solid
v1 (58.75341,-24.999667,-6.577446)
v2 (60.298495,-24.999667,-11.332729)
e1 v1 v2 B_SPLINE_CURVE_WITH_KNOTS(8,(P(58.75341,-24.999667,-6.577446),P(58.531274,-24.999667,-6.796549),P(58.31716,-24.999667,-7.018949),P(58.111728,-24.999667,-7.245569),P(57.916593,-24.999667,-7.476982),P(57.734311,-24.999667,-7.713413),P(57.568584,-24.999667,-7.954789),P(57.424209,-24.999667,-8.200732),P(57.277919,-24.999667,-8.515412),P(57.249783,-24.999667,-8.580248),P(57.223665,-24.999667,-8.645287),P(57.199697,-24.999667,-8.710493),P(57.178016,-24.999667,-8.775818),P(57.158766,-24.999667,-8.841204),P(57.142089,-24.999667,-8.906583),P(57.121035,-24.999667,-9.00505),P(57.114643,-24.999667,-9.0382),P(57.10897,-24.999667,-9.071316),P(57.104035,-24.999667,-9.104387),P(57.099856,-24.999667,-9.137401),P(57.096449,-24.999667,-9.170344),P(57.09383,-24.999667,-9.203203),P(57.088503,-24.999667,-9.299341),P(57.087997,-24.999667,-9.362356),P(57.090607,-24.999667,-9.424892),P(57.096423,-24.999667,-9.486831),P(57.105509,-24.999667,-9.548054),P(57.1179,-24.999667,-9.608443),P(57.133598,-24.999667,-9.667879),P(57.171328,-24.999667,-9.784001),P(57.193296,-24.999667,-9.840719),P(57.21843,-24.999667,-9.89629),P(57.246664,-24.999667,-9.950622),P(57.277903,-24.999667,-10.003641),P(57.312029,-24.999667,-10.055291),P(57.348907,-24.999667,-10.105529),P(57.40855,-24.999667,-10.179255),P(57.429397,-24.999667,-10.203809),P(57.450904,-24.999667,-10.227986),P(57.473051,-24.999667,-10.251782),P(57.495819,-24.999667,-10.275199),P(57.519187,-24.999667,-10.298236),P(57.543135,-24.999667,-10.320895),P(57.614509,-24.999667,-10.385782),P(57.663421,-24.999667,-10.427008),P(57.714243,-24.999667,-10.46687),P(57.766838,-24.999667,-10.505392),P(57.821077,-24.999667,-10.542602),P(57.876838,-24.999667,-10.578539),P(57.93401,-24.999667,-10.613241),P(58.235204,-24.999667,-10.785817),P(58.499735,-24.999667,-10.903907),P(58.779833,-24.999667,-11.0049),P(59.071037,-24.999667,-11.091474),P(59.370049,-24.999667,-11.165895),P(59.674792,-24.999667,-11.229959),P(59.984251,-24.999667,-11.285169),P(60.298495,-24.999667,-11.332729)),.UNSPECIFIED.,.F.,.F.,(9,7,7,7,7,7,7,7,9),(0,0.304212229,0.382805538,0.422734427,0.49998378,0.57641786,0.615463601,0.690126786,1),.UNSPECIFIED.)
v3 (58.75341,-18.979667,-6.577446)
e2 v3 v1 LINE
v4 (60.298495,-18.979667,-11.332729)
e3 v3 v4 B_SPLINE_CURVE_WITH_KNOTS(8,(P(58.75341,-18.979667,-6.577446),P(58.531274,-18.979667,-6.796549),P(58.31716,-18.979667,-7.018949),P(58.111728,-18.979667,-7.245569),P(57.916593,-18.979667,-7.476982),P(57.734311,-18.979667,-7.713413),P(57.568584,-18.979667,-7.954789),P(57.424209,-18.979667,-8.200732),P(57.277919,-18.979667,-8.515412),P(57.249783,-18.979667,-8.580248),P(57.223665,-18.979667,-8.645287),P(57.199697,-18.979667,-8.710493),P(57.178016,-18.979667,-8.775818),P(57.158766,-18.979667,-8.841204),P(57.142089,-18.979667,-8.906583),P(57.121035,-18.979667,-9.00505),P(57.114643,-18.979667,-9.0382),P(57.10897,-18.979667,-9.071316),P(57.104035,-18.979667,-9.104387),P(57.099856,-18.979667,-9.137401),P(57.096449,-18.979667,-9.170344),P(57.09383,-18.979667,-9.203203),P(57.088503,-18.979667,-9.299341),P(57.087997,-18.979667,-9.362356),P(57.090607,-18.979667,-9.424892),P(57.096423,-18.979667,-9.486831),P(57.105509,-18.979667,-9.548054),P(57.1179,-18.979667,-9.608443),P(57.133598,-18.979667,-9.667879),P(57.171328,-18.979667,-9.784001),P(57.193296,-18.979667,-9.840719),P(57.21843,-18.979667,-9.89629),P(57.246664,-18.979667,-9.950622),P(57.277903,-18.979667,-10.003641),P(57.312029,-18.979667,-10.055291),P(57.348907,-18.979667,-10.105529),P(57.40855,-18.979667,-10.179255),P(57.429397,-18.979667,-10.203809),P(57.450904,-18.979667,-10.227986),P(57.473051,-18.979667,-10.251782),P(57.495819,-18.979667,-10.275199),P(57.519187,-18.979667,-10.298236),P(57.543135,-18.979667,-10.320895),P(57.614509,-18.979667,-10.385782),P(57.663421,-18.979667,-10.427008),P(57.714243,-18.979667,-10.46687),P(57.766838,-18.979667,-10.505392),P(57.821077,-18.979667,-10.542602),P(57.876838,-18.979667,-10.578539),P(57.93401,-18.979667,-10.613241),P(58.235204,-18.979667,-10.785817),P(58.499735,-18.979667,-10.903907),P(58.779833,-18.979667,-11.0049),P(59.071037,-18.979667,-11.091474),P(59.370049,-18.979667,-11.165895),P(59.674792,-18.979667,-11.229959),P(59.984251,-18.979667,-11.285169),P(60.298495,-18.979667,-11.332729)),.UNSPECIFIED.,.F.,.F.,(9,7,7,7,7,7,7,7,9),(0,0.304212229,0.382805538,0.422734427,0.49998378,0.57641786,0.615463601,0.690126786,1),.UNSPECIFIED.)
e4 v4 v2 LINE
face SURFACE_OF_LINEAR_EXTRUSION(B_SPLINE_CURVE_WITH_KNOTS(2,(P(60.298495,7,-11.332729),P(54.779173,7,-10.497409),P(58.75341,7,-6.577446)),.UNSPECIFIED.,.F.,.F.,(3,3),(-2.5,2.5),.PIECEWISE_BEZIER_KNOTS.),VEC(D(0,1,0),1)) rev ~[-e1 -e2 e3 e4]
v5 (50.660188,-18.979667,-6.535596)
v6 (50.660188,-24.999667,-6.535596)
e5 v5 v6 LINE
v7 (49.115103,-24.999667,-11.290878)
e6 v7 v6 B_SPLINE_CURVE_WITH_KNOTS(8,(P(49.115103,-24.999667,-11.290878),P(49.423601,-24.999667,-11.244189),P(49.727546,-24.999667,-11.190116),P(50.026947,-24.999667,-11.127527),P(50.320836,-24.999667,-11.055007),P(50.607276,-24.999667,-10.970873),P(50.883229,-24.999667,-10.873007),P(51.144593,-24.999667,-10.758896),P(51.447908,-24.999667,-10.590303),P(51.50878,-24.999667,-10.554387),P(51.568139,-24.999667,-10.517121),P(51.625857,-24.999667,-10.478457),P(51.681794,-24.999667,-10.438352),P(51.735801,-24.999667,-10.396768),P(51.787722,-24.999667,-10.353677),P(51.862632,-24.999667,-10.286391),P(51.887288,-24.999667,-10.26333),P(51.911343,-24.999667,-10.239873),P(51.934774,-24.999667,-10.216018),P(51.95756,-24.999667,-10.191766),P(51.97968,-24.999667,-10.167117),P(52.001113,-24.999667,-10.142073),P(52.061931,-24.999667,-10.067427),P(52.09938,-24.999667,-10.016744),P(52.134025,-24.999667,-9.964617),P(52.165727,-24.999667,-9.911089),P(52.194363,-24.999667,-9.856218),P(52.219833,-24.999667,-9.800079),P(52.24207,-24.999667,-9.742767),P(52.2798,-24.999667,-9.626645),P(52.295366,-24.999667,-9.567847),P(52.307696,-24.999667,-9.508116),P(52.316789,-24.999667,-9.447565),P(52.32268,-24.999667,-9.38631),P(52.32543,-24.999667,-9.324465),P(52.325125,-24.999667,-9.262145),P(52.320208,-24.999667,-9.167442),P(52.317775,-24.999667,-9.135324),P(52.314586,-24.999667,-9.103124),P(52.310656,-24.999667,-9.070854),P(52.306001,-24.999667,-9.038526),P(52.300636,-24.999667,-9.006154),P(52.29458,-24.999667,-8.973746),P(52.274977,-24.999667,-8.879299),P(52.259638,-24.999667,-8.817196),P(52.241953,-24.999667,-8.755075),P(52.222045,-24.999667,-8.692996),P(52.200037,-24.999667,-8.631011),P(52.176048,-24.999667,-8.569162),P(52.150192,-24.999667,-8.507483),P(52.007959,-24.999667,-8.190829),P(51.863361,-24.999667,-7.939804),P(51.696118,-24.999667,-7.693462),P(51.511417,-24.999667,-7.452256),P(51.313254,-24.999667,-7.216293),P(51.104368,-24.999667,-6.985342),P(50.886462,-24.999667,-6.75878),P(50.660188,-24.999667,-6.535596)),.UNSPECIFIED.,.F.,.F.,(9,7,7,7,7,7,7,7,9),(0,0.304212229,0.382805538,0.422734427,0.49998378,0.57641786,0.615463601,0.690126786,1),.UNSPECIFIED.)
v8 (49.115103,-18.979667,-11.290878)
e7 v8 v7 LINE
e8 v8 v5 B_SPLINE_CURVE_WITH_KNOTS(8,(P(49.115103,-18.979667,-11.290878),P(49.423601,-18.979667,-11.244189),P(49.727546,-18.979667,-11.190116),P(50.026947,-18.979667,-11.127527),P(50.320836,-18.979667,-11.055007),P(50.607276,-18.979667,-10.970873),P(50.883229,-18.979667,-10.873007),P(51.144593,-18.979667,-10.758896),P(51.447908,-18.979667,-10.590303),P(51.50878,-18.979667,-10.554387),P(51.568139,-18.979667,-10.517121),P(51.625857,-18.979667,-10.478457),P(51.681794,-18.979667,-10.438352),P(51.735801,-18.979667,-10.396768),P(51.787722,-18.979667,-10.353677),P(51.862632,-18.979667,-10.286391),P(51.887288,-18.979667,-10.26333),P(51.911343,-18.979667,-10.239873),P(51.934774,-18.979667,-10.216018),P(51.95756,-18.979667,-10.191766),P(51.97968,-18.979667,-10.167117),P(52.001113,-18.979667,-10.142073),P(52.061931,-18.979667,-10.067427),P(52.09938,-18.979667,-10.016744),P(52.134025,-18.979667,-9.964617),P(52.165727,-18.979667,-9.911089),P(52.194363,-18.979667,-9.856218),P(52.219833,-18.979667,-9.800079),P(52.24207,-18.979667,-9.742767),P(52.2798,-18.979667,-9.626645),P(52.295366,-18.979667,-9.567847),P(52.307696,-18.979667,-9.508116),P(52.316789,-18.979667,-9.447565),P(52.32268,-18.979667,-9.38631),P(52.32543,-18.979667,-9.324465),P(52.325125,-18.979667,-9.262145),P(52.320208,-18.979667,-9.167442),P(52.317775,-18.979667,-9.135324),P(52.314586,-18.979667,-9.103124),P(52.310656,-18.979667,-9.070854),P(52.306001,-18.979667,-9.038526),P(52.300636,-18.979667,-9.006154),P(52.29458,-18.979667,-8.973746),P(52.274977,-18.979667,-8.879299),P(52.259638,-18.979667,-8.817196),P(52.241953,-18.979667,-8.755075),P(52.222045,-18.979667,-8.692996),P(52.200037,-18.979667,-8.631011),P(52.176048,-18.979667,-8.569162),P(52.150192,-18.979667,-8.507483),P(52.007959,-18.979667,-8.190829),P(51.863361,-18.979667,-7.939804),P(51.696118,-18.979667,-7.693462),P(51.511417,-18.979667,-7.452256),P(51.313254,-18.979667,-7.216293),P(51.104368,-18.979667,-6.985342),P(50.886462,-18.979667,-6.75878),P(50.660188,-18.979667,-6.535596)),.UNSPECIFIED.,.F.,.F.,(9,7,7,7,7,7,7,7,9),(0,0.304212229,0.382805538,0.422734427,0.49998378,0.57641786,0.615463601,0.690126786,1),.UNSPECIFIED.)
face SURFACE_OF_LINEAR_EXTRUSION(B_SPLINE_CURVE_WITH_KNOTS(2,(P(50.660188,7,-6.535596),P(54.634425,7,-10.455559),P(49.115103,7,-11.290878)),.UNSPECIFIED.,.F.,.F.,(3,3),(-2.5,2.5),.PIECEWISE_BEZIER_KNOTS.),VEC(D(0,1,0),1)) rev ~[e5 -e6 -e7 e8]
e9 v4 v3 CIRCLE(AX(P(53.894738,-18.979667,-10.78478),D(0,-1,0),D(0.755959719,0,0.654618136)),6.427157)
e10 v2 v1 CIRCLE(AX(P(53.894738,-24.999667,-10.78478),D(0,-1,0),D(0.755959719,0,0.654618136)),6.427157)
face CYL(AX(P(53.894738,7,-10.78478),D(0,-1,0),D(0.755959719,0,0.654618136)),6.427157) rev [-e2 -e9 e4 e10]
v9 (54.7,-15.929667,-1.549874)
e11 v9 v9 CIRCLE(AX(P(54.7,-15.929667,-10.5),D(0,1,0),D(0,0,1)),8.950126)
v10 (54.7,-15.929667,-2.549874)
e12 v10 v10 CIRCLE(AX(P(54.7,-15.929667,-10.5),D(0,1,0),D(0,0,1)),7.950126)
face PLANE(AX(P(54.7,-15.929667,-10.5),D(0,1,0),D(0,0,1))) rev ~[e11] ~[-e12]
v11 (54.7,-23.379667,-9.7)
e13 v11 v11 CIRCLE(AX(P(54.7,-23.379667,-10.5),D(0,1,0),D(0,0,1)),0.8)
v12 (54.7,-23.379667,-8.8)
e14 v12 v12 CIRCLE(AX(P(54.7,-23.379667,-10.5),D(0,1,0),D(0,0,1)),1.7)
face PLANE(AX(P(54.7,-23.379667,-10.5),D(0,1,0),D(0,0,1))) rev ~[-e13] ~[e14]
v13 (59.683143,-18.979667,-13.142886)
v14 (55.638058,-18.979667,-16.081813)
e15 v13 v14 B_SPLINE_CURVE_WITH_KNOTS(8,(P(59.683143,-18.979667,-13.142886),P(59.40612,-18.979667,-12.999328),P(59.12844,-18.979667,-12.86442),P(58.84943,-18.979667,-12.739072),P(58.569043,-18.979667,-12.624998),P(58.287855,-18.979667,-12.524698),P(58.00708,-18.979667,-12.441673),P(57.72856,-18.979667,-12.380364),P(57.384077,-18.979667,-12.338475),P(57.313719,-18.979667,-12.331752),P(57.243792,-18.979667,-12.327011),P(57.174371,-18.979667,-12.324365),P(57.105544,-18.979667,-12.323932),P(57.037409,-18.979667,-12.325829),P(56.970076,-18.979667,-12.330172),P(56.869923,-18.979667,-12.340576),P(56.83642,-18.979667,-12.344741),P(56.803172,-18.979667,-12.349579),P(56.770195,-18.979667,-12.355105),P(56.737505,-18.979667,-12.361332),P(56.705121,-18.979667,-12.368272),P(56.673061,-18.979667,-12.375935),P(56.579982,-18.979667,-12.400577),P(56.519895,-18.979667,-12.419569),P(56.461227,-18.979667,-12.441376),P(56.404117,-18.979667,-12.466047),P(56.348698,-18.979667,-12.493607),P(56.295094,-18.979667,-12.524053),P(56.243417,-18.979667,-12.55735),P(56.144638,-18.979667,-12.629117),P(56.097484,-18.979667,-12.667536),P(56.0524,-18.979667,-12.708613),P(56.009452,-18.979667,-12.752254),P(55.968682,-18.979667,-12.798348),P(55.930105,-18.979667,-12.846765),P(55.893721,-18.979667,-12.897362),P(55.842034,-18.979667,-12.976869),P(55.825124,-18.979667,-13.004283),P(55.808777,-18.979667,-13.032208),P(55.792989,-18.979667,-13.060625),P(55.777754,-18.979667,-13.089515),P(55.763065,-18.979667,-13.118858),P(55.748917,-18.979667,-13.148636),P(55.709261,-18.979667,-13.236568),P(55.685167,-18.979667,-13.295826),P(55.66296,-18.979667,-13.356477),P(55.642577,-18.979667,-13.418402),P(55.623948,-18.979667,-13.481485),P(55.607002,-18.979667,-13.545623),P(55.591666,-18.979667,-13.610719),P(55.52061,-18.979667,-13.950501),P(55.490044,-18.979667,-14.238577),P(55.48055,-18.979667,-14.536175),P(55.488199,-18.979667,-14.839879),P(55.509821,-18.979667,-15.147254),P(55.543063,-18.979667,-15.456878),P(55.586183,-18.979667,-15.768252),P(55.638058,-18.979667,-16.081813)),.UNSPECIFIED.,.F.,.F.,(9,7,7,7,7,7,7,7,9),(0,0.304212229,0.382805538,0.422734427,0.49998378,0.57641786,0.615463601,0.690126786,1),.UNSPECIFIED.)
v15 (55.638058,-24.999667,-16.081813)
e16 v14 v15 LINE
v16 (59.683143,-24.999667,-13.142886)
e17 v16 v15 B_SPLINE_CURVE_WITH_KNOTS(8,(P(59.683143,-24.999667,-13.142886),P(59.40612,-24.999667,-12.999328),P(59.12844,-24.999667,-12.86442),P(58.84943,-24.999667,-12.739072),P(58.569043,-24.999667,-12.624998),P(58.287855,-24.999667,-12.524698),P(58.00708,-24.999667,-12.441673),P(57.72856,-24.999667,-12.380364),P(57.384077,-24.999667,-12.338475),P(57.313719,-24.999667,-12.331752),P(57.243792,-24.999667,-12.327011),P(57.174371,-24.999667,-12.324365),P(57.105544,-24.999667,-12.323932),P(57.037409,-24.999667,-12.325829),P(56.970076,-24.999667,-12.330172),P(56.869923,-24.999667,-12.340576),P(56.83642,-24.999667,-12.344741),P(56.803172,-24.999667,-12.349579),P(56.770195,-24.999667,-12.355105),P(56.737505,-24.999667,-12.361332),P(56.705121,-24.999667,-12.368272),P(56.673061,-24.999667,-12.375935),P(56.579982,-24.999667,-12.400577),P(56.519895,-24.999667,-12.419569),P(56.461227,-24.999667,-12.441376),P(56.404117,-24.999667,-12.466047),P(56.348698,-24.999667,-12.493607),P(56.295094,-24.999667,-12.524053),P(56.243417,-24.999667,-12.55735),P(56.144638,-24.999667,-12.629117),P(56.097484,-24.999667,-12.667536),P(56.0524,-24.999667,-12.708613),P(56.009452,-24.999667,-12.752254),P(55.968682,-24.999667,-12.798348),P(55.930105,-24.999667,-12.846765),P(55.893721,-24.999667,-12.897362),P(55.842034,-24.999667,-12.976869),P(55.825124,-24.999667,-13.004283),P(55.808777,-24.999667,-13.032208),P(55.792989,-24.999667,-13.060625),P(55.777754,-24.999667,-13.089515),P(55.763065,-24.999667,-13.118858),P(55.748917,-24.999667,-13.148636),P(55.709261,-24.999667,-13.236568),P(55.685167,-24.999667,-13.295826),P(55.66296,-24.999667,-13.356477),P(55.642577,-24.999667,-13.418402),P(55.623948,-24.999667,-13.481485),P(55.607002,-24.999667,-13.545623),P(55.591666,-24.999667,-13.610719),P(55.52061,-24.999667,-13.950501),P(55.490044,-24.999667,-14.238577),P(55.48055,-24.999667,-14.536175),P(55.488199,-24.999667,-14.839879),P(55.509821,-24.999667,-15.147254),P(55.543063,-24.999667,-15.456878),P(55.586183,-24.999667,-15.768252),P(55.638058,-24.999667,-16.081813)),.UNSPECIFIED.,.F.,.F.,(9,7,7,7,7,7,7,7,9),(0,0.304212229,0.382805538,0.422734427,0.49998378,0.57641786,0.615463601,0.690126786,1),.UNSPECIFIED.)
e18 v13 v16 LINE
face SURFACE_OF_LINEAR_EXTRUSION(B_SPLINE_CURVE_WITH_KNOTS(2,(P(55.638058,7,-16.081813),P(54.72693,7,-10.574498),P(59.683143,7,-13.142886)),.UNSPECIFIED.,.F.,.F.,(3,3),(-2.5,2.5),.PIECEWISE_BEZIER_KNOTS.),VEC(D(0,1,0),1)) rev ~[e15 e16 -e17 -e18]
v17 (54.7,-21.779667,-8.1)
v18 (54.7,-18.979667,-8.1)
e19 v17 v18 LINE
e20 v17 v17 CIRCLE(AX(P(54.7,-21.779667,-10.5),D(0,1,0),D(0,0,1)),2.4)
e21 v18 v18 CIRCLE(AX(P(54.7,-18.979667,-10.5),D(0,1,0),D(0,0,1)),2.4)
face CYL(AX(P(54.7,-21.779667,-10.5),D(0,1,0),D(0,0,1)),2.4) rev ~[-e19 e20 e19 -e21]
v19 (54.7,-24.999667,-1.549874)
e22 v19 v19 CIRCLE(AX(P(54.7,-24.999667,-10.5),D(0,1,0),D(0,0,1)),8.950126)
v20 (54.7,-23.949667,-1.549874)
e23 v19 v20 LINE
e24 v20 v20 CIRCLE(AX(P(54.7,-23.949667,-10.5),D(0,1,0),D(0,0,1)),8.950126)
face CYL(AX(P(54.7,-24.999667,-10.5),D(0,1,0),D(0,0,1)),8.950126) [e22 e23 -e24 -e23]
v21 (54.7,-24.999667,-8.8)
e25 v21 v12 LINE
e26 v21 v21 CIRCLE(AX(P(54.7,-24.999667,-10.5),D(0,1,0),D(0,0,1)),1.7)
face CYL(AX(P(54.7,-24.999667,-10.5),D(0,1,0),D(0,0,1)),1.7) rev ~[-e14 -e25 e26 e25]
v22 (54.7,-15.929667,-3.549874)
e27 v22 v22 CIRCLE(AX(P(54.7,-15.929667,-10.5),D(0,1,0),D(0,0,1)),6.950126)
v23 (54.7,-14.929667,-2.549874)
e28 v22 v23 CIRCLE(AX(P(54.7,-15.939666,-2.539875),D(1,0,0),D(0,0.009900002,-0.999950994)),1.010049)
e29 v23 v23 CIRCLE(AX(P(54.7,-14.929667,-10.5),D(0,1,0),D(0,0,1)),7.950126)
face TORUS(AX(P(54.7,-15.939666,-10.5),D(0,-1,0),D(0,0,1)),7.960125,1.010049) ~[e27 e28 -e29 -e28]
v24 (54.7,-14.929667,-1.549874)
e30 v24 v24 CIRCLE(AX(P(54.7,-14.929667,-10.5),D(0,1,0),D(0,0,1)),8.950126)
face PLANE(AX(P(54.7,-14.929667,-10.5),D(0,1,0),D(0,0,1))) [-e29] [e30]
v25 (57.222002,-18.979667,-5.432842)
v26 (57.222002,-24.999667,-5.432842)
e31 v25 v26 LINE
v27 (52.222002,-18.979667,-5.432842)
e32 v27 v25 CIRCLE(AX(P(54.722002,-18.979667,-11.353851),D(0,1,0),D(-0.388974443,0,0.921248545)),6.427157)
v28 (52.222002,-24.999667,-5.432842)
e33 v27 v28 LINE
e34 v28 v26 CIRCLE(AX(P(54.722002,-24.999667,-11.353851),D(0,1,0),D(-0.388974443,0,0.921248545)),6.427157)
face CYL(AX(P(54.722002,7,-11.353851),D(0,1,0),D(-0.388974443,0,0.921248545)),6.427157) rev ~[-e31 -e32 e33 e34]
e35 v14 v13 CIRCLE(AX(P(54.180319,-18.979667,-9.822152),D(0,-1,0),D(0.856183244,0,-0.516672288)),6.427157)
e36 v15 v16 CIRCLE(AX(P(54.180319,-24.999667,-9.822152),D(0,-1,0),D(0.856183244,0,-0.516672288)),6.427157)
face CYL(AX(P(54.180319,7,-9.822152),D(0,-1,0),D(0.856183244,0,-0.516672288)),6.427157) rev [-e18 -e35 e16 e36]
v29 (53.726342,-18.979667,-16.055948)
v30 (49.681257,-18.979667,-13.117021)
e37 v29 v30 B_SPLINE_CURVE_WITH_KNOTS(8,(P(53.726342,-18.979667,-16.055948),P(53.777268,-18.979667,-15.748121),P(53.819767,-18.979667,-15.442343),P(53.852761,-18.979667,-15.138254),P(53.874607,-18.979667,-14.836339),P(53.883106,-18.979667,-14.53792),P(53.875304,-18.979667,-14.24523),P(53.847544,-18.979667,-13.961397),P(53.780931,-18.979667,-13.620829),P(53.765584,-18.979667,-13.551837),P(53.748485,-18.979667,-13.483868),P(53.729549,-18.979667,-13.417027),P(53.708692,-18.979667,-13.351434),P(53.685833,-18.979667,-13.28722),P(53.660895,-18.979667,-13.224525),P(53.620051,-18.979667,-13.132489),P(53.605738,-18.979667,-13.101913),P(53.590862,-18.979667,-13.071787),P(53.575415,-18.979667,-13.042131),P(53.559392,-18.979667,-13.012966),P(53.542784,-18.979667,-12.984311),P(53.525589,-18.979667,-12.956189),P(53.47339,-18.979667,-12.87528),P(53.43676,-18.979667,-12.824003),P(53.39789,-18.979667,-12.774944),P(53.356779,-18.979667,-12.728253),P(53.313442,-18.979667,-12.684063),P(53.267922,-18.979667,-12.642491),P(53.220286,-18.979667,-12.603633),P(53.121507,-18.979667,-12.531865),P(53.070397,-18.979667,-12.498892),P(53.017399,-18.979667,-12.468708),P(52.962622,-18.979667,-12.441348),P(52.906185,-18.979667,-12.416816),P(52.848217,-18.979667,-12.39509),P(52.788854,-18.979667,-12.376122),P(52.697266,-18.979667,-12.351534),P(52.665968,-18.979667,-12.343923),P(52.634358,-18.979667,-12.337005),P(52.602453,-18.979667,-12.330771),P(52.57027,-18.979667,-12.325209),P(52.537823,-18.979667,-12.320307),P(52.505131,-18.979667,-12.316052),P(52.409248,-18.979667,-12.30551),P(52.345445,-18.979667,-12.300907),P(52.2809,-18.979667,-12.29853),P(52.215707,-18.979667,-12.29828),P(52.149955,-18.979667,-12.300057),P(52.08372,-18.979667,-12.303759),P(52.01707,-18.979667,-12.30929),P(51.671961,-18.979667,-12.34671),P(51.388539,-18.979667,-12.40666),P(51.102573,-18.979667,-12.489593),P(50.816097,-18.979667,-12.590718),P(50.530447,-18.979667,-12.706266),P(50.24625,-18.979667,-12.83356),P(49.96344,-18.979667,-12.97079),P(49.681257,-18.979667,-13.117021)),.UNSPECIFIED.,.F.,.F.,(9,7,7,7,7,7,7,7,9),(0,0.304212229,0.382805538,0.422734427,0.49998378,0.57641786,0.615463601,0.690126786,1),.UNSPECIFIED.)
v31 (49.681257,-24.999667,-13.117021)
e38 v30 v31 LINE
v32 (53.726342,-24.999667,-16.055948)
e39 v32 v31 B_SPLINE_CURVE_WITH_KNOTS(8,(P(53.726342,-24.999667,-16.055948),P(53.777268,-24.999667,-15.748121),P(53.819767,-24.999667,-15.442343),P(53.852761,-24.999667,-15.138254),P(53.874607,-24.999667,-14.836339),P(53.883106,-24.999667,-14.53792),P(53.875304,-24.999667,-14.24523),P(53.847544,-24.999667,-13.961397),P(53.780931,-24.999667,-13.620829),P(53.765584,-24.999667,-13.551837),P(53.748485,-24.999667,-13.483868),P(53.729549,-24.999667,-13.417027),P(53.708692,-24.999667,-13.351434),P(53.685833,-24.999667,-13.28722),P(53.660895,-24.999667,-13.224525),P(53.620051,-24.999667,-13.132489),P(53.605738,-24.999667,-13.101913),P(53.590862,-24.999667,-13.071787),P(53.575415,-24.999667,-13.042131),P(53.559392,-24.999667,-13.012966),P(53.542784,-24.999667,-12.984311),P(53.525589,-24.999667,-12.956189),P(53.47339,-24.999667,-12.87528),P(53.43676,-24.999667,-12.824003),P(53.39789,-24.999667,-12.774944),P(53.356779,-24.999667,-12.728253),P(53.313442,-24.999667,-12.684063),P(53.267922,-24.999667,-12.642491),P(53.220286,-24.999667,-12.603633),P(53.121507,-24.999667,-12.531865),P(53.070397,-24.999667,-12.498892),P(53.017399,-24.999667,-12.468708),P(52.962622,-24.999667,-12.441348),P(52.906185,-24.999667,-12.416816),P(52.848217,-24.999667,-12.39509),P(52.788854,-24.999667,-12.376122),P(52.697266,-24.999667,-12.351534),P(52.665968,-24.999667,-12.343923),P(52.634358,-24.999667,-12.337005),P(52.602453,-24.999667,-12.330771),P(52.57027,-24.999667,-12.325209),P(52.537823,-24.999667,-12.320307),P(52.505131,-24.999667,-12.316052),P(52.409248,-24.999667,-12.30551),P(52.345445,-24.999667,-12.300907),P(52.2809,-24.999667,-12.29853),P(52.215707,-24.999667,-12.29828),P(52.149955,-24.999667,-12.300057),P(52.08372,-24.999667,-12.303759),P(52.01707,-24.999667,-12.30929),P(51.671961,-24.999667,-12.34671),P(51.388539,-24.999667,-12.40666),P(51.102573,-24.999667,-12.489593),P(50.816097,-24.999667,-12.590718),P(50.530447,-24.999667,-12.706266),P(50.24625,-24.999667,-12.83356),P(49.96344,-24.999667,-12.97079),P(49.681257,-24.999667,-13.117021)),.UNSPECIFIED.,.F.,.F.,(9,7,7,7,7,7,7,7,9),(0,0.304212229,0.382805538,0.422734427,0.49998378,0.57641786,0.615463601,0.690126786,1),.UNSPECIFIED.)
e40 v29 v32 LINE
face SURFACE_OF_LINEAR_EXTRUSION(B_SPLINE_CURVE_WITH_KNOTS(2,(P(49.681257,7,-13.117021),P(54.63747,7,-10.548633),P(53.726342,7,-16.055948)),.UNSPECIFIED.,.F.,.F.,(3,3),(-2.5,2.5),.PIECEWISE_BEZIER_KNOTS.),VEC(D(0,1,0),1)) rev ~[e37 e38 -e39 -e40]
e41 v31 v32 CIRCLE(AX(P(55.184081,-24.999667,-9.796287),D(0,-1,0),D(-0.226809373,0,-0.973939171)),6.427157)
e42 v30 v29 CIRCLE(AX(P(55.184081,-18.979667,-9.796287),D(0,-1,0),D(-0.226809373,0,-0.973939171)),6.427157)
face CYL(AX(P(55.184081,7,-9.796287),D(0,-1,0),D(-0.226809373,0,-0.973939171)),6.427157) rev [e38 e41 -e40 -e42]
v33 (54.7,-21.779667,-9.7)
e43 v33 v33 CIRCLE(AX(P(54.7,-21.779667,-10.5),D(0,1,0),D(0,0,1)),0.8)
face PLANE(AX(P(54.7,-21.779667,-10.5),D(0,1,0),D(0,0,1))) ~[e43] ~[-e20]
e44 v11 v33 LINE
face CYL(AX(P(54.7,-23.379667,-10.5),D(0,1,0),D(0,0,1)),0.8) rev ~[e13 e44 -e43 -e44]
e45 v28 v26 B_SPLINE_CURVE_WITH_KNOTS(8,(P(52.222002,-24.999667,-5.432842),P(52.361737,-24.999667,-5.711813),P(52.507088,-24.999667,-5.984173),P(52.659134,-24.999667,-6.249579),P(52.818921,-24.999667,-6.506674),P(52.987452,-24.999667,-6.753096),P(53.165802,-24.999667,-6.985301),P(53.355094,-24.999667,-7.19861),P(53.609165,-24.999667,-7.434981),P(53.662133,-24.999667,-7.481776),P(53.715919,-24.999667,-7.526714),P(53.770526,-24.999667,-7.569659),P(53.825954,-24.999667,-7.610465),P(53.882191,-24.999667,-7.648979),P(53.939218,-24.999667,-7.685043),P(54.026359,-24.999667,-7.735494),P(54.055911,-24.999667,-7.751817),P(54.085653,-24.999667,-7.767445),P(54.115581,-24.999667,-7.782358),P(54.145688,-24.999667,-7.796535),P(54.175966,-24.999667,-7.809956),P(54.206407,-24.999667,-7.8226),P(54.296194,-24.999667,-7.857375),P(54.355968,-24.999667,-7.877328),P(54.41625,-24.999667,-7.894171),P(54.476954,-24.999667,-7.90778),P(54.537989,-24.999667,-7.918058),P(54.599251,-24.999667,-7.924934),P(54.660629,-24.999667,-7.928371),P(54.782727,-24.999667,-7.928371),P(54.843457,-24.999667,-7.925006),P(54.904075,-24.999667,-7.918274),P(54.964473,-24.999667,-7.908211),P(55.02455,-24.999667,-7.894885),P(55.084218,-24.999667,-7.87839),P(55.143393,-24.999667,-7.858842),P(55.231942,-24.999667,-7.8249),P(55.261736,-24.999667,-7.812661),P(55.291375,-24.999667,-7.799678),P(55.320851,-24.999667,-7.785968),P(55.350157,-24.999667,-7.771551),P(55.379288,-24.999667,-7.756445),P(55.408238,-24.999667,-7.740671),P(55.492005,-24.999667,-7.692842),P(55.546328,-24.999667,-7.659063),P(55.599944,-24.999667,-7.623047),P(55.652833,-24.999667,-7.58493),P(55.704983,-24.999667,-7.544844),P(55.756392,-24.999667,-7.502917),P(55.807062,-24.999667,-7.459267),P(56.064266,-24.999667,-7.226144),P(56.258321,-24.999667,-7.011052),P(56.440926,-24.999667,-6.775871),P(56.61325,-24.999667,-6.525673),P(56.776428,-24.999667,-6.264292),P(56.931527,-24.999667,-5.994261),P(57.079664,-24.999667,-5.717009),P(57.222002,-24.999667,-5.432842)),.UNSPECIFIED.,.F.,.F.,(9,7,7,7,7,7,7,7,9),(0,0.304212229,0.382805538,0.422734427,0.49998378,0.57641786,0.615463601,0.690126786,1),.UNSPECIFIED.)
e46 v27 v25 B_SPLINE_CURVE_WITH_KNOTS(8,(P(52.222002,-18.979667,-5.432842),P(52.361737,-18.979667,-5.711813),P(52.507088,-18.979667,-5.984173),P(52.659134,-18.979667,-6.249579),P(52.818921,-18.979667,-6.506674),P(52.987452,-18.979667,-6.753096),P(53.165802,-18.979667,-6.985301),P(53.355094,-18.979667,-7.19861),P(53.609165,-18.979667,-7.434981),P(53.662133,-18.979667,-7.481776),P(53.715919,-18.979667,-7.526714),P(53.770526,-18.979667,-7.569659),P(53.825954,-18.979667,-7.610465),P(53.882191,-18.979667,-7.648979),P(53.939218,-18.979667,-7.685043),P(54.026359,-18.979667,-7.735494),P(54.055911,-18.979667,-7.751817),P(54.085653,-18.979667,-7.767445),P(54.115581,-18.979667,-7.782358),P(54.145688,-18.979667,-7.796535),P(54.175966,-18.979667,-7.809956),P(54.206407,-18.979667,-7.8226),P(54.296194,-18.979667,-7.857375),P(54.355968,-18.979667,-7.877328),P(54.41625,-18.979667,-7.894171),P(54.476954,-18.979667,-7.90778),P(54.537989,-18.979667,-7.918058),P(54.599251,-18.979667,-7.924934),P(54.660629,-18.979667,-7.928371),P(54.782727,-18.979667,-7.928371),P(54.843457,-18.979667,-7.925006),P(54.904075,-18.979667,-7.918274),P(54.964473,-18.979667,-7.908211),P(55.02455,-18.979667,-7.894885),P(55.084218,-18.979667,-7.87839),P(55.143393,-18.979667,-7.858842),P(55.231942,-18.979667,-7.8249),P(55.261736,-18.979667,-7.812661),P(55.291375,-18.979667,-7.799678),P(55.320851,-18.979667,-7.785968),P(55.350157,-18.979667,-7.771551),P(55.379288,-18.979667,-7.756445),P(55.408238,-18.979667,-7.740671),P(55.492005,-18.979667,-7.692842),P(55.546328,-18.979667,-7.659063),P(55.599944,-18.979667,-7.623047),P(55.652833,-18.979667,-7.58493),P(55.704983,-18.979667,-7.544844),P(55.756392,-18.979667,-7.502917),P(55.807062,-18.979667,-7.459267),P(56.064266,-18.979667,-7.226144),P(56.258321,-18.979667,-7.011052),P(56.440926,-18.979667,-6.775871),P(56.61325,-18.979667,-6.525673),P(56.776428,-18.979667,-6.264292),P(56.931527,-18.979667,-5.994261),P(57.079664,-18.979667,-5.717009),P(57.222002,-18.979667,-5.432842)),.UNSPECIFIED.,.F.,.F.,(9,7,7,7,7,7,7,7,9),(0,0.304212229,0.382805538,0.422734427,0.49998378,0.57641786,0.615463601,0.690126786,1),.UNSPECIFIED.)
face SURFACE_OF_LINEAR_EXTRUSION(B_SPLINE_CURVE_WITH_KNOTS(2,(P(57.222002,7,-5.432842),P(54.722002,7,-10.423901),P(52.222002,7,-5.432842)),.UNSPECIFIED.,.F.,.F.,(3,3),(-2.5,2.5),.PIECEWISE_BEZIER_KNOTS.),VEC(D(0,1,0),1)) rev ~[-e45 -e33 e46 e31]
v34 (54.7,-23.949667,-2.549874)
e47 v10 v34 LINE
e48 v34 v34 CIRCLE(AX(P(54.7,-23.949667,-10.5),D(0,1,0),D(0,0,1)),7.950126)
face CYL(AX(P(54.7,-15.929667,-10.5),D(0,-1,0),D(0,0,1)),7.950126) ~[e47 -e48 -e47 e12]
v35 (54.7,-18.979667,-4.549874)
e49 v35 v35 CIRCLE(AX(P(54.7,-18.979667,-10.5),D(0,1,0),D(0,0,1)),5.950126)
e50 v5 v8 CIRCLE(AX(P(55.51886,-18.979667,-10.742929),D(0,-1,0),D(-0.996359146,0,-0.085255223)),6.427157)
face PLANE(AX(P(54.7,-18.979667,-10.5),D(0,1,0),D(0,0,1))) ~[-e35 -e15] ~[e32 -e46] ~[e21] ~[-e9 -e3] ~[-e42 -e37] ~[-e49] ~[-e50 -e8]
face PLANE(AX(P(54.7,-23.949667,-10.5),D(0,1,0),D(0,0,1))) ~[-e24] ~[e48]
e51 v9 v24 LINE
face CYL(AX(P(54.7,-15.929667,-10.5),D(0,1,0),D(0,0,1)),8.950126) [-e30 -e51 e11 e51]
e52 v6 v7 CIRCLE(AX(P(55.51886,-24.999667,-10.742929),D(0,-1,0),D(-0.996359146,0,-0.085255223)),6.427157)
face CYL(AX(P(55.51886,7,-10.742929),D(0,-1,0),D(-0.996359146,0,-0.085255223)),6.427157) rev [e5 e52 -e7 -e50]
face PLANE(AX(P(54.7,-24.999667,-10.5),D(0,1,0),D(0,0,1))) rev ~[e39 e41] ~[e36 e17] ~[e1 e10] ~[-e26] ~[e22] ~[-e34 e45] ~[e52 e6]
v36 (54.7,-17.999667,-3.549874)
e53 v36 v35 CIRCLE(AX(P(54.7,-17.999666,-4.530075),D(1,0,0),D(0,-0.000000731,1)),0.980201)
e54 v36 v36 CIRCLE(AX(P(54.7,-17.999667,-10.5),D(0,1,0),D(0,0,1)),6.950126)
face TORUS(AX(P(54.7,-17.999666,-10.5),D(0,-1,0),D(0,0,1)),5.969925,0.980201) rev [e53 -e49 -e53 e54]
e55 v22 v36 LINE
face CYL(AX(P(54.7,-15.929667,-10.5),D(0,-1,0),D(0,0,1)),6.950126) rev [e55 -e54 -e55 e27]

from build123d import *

# Parameters (mm, degrees)
POCKET001_DEPTH       = 54.489273
POCKET001_DEPTH_BACK  = 86.48894
POLARPATTERN001_COUNT = 5


with BuildPart() as part:
    # Sketch024 → Revolution001 (revolve)
    with BuildSketch(Plane.YZ):
        with BuildLine():
            Line((-31.999667, 8.950126), (-30.949667, 8.950126))
            Line((-30.949667, 7.950126), (-30.949667, 8.950126))
            Line((-22.929667, 7.950126), (-30.949667, 7.950126))
            Line((-22.929667, 8.950126), (-22.929667, 7.950126))
            Line((-22.929667, 8.950126), (-21.929667, 8.950126))
            Line((-21.929667, 8.950126), (-21.929667, 7.950126))
            ThreePointArc((-22.929667, 6.950126), (-22.225454, 7.245913), (-21.929667, 7.950126))
            Line((-22.929667, 6.950126), (-24.999667, 6.950126))
            ThreePointArc((-24.999667, 6.950126), (-25.699738, 6.655996), (-25.979667, 5.950126))
            Line((-25.979667, 2.4), (-25.979667, 5.950126))
            Line((-28.779667, 2.4), (-25.979667, 2.4))
            Line((-28.779667, 0.8), (-28.779667, 2.4))
            Line((-30.379667, 0.8), (-28.779667, 0.8))
            Line((-30.379667, 1.7), (-30.379667, 0.8))
            Line((-31.999667, 1.7), (-30.379667, 1.7))
            Line((-31.999667, 8.950126), (-31.999667, 1.7))
        make_face()
    revolve(axis=Axis((0, 0, 0), (0, 1, 0)))

    # Sketch025 → Pocket001 (cut, two sides)
    with BuildSketch(Plane(origin=(-5.2, 0, 0), x_dir=(1, 0, 0), z_dir=(0, -1, 0))) as pocket001_sk:
        with BuildLine():
            add(Edge.make_bspline(
                [(7.722002, 5.067158), (5.222002, 0.076099), (2.722002, 5.067158)],
                knots=[-2.5, -2.5, -2.5, 2.5, 2.5, 2.5], degree=2))
            ThreePointArc((2.722002, 5.067158), (5.222002, 5.573306), (7.722002, 5.067158))
        make_face()
    pocket001 = extrude(amount=-POCKET001_DEPTH, mode=Mode.SUBTRACT) + extrude(pocket001_sk.sketch, amount=POCKET001_DEPTH_BACK, mode=Mode.SUBTRACT)

    # PolarPattern001: Pocket001 ×5 about axis
    polarpattern001_axis = Axis((0, 0, 0), (0, 1, 0))
    for i in range(1, POLARPATTERN001_COUNT):
        add(pocket001.rotate(polarpattern001_axis, i * 360 / POLARPATTERN001_COUNT), mode=Mode.SUBTRACT)


with BuildPart() as part_1:
    # Body021 placement: moved
    add(part.part.moved(Location((54.7, 7, -10.5))))


solid = part_1.part
